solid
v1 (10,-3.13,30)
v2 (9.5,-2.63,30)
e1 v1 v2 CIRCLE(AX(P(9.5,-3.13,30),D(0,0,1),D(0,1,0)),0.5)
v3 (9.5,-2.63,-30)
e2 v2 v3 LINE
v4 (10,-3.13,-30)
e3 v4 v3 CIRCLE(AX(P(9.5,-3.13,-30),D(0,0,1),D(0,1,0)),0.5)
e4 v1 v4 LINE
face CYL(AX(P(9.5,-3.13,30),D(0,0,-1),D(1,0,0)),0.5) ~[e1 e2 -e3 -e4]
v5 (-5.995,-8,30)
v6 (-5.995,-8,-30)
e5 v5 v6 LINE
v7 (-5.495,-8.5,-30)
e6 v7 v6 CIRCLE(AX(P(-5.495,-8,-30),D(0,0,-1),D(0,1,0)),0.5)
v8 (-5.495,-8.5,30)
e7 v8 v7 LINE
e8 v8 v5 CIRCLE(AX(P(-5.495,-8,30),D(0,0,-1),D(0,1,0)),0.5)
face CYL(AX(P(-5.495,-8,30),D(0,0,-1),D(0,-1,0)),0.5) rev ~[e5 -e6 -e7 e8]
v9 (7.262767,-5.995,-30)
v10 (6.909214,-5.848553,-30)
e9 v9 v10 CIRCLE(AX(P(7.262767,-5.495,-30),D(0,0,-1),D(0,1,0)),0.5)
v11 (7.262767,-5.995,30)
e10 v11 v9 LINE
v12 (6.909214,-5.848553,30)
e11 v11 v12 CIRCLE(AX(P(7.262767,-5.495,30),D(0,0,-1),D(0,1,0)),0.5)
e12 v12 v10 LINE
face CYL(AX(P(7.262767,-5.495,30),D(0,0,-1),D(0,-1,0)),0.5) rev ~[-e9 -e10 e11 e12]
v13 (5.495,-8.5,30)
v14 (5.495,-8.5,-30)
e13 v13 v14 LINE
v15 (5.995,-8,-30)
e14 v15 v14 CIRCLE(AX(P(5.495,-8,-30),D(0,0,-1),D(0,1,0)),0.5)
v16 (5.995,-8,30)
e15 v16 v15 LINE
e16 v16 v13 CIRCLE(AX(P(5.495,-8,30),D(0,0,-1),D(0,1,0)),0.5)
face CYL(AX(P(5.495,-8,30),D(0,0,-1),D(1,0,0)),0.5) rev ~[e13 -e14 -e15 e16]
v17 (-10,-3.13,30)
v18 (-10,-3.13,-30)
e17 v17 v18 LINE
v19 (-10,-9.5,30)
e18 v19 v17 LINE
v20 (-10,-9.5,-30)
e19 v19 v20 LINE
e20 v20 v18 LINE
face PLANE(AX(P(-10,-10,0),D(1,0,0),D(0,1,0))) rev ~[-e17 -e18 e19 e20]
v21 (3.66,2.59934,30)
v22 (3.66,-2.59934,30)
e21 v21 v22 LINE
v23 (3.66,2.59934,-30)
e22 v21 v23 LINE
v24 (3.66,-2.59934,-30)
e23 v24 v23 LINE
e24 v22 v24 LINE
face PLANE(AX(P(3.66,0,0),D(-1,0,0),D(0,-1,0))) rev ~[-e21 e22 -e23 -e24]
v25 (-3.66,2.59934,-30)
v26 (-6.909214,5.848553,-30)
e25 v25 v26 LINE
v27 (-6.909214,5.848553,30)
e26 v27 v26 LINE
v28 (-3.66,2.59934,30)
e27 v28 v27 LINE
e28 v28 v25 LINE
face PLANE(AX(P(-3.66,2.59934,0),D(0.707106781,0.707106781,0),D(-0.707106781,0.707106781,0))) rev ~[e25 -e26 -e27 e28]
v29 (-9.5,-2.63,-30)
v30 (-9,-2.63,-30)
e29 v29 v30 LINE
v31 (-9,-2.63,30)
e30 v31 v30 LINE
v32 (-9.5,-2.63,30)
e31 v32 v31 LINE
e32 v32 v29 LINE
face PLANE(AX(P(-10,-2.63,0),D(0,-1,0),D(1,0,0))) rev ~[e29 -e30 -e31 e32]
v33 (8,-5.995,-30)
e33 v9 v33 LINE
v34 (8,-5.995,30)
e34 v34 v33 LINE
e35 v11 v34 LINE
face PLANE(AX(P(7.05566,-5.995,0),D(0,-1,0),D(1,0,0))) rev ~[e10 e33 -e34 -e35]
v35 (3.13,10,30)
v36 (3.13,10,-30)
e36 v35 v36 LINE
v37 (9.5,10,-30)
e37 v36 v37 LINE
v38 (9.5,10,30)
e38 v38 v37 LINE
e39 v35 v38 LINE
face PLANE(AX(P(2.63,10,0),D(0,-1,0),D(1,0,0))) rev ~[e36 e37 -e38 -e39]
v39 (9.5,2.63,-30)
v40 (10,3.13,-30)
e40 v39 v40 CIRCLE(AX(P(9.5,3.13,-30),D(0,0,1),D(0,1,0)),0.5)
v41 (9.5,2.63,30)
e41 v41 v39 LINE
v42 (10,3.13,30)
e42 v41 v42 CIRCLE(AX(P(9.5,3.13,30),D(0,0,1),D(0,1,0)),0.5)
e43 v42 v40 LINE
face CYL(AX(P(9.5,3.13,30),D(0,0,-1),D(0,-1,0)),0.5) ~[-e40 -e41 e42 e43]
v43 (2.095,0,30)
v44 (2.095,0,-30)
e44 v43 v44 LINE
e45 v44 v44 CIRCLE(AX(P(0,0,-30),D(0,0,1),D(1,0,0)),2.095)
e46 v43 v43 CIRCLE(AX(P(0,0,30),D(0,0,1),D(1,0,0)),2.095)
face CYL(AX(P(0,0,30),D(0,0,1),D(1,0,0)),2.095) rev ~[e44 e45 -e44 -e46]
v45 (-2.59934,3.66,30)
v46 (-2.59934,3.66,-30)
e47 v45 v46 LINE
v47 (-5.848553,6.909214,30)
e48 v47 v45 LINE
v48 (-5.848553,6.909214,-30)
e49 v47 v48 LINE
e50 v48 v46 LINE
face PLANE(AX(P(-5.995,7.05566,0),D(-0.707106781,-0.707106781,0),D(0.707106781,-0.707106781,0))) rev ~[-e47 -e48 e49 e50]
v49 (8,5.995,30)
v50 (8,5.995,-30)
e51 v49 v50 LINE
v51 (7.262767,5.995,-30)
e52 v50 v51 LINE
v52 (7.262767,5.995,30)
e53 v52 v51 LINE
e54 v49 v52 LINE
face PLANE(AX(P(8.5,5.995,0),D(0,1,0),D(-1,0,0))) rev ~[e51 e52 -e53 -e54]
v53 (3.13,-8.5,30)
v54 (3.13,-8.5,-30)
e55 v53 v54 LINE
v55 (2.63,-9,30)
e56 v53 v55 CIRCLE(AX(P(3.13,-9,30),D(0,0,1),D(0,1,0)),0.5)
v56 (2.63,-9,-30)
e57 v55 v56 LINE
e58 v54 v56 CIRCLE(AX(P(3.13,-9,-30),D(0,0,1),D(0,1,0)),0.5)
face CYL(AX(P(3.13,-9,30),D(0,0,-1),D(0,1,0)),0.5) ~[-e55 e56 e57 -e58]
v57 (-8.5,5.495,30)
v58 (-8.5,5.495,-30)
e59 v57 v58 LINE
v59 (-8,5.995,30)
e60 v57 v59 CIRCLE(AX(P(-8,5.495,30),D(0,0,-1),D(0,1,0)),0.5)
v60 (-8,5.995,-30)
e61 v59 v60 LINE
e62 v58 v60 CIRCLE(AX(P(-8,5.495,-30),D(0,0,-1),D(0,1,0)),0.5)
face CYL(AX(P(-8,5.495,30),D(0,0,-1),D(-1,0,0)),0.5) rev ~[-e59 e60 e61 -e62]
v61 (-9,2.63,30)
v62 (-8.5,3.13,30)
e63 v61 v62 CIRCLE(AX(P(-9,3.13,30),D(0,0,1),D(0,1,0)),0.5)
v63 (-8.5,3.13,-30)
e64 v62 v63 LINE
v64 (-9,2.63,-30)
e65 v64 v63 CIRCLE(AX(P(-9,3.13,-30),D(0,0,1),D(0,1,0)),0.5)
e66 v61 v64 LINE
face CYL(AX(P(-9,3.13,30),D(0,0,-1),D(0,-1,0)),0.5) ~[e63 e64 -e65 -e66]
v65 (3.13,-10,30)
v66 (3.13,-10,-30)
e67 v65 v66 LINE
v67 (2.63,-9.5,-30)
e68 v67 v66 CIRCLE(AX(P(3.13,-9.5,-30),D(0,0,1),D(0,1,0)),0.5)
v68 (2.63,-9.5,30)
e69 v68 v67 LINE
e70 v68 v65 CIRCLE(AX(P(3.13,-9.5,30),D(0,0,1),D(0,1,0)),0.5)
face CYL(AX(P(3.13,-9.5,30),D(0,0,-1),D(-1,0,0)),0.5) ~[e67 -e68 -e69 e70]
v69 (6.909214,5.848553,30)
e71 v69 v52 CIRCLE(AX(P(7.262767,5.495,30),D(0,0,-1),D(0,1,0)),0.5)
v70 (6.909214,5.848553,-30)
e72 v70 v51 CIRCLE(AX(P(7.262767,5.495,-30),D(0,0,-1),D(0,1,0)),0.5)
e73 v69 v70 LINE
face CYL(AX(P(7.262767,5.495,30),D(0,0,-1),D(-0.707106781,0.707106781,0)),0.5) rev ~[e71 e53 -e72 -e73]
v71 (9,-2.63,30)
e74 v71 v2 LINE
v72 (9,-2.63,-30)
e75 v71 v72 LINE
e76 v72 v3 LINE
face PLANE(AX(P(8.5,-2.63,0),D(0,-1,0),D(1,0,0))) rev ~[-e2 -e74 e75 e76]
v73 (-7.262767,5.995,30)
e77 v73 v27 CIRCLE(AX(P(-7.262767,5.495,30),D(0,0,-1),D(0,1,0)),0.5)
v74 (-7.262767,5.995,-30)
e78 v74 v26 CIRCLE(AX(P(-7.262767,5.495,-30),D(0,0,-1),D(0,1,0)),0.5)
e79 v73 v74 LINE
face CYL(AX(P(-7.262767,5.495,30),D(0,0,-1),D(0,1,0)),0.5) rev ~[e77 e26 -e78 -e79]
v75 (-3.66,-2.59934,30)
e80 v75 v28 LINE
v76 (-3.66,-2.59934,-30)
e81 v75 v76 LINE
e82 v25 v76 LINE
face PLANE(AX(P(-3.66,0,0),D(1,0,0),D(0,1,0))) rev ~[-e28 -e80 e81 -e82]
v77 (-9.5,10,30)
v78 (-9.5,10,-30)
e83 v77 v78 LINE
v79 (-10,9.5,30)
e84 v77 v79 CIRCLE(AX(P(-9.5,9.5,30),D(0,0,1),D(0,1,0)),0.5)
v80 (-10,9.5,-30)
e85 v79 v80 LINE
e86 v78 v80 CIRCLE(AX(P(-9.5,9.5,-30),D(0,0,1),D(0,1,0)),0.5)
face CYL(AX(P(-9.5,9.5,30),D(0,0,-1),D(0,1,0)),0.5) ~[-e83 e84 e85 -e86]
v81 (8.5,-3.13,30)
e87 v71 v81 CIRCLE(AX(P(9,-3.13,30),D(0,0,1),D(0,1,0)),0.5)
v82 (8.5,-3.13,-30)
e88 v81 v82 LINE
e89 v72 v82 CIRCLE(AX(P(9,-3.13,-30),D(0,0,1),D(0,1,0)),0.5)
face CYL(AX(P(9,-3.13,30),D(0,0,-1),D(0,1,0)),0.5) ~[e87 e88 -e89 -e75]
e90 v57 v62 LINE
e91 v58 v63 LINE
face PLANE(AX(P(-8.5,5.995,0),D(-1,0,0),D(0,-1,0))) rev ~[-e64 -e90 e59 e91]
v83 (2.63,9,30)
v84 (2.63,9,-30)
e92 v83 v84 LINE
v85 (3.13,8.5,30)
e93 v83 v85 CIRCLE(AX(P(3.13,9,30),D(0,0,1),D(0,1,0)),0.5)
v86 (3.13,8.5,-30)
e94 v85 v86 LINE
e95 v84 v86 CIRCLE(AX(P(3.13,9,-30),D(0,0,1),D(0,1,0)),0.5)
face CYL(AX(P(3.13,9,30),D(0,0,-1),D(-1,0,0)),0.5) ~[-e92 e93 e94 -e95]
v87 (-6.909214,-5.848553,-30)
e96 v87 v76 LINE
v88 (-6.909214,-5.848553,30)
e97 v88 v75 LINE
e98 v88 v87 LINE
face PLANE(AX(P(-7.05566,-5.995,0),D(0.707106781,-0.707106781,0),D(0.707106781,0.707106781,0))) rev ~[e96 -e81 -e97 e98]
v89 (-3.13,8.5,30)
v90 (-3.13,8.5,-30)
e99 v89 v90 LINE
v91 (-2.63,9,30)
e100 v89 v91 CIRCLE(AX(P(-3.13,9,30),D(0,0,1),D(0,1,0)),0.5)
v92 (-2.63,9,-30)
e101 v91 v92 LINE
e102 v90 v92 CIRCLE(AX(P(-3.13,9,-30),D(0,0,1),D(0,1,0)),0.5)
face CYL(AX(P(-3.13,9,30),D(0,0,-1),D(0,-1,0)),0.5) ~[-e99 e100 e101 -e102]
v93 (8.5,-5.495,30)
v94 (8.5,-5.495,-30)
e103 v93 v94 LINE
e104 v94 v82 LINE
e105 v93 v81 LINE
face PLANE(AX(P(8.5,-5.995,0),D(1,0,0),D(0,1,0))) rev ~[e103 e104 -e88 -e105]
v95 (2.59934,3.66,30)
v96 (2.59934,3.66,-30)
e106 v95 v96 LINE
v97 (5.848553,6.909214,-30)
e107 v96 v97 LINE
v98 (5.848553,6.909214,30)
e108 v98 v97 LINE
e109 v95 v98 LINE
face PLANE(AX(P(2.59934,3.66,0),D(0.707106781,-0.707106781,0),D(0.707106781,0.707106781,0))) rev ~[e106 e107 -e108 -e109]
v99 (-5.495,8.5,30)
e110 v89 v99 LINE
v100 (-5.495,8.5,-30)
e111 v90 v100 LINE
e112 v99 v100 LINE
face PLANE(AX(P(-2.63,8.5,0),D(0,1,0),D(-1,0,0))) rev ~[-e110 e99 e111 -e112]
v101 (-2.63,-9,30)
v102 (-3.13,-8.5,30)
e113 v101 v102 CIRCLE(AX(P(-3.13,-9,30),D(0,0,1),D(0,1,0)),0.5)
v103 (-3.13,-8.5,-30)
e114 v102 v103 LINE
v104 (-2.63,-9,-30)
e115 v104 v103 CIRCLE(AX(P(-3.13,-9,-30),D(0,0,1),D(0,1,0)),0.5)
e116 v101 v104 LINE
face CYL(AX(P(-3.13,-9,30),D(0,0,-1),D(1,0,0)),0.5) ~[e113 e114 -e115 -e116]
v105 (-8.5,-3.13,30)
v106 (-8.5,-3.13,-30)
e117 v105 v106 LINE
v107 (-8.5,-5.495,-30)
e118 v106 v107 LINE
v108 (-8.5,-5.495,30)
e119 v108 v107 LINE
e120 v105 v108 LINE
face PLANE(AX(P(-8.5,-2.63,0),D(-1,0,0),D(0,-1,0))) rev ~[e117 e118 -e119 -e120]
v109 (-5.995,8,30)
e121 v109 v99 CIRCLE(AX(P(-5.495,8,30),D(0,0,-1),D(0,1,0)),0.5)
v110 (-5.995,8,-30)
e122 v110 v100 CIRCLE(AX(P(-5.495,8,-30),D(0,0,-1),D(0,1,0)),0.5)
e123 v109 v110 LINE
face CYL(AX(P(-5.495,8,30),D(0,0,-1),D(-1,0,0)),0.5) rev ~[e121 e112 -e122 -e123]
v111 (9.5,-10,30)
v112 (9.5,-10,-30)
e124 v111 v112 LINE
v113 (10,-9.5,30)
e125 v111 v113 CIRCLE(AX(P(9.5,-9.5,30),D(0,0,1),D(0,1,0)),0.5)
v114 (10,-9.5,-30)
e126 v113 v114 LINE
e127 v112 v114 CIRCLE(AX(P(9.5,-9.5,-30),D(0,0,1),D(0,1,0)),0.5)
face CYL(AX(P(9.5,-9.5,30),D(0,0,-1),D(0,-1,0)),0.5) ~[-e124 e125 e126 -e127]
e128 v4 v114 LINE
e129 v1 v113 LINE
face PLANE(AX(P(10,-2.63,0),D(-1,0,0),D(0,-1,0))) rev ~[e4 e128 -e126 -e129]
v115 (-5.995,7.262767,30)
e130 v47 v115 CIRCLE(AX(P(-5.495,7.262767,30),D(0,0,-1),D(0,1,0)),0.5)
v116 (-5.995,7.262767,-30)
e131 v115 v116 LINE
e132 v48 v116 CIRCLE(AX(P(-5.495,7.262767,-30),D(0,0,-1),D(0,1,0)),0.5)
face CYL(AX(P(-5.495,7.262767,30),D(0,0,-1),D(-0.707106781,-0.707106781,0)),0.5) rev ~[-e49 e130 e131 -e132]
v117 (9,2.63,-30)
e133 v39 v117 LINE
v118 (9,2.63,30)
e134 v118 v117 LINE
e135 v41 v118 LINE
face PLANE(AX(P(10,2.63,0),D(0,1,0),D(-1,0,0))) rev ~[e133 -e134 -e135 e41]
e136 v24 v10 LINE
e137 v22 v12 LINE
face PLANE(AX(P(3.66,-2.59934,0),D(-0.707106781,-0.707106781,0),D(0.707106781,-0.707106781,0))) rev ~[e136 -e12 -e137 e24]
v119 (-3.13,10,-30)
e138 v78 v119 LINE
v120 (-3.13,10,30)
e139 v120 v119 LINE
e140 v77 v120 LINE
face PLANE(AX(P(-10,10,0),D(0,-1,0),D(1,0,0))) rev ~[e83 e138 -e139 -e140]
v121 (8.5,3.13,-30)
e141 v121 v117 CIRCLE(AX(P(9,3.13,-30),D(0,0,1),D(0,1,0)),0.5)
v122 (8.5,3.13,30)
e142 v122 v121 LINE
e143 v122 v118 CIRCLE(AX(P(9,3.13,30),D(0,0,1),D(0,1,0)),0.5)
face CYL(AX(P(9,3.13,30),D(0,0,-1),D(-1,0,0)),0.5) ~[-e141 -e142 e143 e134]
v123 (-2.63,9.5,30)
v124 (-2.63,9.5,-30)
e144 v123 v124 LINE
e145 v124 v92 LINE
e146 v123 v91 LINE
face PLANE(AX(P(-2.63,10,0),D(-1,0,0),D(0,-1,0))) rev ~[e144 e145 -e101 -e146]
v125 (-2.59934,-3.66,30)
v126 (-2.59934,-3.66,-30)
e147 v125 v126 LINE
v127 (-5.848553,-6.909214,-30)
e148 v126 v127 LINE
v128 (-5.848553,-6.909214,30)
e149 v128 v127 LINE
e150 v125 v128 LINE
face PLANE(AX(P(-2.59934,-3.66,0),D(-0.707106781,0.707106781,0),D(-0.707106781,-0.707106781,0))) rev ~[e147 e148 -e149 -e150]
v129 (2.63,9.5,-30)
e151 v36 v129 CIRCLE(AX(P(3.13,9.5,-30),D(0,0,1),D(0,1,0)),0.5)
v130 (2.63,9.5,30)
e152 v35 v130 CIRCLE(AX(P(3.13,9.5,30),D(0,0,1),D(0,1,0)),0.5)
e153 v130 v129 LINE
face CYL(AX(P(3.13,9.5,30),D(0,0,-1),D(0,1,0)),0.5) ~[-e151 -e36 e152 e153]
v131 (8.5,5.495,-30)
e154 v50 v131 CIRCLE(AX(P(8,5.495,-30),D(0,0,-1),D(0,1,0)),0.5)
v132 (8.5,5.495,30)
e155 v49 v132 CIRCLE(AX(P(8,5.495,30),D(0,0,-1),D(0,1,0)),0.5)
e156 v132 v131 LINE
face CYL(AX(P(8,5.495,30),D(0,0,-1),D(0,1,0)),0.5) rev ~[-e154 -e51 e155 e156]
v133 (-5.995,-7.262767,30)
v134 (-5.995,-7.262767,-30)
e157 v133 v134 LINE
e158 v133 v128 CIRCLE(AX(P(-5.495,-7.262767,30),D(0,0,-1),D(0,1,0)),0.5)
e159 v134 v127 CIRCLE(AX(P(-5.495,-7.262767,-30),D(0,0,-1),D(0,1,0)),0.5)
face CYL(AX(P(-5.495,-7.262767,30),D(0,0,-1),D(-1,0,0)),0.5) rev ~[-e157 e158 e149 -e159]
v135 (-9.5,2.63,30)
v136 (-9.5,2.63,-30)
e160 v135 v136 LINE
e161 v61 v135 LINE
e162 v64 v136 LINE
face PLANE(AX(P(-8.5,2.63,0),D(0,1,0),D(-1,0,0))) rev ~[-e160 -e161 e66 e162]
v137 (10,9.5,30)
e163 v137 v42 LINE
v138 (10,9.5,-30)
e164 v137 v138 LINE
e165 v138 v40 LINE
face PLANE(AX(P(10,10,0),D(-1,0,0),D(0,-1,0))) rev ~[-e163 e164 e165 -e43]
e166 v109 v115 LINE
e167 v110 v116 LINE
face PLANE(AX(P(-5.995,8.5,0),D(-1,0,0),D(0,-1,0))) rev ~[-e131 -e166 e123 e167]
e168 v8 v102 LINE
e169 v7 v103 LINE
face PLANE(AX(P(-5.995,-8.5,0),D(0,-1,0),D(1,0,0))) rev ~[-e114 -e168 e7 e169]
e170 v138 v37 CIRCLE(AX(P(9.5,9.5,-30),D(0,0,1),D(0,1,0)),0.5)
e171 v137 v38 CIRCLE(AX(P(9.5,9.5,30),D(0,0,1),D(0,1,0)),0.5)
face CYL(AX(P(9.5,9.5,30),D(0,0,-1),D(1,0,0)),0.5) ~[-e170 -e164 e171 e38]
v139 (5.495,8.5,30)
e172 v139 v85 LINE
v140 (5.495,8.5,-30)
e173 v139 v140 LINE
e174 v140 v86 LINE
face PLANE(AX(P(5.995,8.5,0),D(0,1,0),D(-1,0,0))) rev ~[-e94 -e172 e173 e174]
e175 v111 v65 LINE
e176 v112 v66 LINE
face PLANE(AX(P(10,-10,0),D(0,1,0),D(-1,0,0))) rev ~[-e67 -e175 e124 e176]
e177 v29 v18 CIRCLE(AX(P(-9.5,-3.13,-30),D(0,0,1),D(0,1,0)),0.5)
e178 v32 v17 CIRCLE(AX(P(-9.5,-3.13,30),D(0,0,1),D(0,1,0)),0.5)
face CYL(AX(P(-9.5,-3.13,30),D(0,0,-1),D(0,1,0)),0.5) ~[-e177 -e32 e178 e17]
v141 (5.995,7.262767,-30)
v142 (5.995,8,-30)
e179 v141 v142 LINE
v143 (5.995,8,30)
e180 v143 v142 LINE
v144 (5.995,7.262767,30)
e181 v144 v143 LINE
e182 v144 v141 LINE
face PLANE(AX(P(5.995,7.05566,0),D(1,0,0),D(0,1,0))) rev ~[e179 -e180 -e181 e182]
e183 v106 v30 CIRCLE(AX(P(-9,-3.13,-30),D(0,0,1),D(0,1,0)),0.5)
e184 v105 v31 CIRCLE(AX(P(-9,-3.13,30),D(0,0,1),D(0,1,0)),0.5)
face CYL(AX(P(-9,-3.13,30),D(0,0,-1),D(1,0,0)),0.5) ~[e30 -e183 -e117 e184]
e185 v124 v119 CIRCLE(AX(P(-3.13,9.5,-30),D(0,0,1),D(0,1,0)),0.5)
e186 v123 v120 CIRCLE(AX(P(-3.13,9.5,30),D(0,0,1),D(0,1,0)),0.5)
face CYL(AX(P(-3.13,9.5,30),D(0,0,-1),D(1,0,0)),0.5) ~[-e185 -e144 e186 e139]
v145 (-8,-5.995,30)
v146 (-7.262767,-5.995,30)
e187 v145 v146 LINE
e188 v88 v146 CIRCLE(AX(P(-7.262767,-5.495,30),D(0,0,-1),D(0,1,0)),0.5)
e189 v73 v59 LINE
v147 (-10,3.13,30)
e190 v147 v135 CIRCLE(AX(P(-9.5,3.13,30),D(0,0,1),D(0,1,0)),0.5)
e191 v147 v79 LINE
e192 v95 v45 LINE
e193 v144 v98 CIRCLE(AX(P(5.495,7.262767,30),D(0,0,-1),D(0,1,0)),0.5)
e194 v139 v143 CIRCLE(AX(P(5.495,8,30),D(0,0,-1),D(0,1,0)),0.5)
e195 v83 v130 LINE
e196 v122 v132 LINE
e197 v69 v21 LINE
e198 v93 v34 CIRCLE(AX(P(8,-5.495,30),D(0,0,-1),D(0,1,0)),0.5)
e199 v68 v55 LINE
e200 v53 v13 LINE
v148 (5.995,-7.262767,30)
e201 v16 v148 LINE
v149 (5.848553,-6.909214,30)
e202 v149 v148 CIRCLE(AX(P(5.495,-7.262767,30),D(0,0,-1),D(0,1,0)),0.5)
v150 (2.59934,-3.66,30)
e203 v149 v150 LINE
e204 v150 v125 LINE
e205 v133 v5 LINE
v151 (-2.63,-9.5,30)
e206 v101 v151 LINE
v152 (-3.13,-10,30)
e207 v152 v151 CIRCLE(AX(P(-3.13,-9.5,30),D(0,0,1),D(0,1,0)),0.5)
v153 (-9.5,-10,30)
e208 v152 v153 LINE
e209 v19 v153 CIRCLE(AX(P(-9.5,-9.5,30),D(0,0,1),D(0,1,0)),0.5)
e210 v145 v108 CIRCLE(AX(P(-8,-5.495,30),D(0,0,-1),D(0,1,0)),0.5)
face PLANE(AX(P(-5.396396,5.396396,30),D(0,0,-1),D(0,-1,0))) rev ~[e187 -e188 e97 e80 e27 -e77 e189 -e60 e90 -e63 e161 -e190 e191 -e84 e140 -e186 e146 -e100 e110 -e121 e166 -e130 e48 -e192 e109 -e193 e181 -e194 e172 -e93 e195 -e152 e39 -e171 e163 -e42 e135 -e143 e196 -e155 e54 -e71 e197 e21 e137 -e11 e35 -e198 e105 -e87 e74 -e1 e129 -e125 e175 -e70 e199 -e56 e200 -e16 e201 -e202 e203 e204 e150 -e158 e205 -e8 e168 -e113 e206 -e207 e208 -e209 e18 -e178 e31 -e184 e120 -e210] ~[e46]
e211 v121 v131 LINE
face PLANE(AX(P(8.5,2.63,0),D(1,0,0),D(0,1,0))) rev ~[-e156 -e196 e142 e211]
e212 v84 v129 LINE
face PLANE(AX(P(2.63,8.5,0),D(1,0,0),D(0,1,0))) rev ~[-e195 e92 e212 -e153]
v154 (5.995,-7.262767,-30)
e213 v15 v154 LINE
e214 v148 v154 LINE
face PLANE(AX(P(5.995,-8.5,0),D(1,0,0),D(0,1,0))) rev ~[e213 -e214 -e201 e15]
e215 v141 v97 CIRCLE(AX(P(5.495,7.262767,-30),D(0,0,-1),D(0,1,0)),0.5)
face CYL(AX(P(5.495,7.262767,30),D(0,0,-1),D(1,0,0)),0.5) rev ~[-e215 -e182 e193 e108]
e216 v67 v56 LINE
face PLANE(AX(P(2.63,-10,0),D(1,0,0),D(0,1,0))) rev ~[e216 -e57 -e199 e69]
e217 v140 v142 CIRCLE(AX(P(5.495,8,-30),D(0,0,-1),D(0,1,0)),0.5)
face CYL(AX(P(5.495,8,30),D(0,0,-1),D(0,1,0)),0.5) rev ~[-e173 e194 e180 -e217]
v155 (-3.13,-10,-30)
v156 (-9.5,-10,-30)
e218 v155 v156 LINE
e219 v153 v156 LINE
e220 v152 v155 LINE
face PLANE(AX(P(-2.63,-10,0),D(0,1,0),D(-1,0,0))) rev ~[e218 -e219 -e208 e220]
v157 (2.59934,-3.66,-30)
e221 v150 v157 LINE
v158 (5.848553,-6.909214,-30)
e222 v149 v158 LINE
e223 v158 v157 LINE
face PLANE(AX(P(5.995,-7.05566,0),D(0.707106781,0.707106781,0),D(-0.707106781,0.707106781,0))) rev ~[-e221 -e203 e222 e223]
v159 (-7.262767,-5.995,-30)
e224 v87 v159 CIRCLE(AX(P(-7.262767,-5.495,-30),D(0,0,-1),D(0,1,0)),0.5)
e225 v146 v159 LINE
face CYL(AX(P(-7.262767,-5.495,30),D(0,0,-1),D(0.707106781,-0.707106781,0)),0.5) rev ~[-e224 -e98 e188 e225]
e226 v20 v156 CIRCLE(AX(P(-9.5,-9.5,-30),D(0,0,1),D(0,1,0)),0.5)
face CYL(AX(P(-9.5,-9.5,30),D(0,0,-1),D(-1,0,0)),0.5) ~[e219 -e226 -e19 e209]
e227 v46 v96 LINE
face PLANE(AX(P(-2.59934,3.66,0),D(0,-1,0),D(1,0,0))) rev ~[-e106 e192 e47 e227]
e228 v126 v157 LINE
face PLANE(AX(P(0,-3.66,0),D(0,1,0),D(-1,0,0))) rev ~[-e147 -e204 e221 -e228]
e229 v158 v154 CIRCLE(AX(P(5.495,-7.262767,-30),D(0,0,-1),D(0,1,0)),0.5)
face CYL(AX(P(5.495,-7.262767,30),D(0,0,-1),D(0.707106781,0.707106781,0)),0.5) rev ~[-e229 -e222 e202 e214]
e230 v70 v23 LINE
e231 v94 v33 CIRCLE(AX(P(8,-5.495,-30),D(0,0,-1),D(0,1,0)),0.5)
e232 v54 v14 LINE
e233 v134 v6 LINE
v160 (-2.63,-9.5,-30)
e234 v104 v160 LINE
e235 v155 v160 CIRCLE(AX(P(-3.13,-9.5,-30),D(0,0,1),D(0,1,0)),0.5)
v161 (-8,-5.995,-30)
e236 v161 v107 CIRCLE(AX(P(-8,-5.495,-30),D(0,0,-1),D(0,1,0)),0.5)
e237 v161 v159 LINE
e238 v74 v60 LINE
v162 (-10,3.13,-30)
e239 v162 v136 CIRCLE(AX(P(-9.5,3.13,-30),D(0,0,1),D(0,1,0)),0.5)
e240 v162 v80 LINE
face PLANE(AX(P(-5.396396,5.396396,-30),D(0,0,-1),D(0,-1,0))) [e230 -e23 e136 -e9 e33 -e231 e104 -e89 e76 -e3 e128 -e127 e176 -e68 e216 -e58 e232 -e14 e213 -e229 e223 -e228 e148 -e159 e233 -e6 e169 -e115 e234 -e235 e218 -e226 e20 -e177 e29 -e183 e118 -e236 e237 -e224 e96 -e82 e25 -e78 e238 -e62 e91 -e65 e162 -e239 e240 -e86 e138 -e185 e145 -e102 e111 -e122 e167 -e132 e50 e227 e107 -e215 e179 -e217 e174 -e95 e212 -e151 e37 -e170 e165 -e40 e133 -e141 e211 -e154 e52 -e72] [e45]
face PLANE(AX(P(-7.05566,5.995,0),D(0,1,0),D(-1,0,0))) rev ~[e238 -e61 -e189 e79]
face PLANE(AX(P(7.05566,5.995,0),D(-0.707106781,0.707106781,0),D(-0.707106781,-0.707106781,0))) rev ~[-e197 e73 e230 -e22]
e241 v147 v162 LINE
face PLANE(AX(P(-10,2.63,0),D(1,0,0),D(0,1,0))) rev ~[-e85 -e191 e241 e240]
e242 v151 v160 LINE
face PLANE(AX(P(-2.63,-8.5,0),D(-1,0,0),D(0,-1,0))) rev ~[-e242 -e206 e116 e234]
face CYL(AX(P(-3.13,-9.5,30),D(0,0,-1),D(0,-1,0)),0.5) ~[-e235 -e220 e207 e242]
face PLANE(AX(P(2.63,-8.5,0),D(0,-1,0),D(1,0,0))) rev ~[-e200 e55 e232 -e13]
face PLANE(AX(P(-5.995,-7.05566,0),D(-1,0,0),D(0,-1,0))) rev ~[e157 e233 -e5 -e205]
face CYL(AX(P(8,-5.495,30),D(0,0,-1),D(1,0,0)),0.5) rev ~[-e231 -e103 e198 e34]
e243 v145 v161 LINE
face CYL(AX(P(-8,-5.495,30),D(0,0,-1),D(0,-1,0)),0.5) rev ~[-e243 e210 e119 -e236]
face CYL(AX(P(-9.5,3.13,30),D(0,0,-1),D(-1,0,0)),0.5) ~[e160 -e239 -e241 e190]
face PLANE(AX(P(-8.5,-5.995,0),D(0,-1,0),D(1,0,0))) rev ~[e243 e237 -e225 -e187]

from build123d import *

# Parameters (mm, degrees)
BOSS_EXTRUDE1_DEPTH      = 30
FILLET1_R                = 0.5
CIRPATTERN3_COUNT        = 4
FILLET1_OF_CIRPATTERN3_R = 0.5
SKETCH3_R                = 2.095
CUT_EXTRUDE1_DEPTH       = 62.64414003


with BuildPart() as part:
    # Sketch2 → Boss-Extrude1 (new, symmetric)
    with BuildSketch(Plane.XY):
        Polygon((0, 3.66), (2.599339828, 3.66), (5.995, 7.055660172), (5.995, 8.5), (2.63, 8.5), (2.63, 10), (10, 10), (10, 2.63), (8.5, 2.63), (8.5, 5.995), (7.055660172, 5.995), (3.66, 2.599339828), (3.66, 0), (0, 0), align=None)
    boss_extrude1 = extrude(amount=BOSS_EXTRUDE1_DEPTH, both=True)

    # Fillet1
    fillet1_edges = [part.edges().sort_by_distance(p)[0] for p in [
        (5.995, 7.055660172, 0),
        (5.995, 8.5, 0),
        (2.63, 8.5, 0),
        (2.63, 10, 0),
        (10, 10, 0),
        (10, 2.63, 0),
        (8.5, 2.63, 0),
        (8.5, 5.995, 0),
        (7.055660172, 5.995, 0),
    ]]
    fillet(fillet1_edges, radius=FILLET1_R)

    # CirPattern3: Boss-Extrude1 ×4 about axis
    cirpattern3_axis = Axis((0, 0, 30), (0, 0, -1))
    for i in range(1, CIRPATTERN3_COUNT):
        add(boss_extrude1.rotate(cirpattern3_axis, i * 360 / CIRPATTERN3_COUNT))

    # Fillet1 of CirPattern3
    fillet1_of_cirpattern3_edges = [part.edges().sort_by_distance(p)[0] for p in [
        (7.055660172, -5.995, 0),
        (8.5, -5.995, 0),
        (8.5, -2.63, 0),
        (10, -2.63, 0),
        (10, -10, 0),
        (2.63, -10, 0),
        (2.63, -8.5, 0),
        (5.995, -8.5, 0),
        (5.995, -7.055660172, 0),
        (-5.995, -7.055660172, 0),
        (-5.995, -8.5, 0),
        (-2.63, -8.5, 0),
        (-2.63, -10, 0),
        (-10, -10, 0),
        (-10, -2.63, 0),
        (-8.5, -2.63, 0),
        (-8.5, -5.995, 0),
        (-7.055660172, -5.995, 0),
        (-7.055660172, 5.995, 0),
        (-8.5, 5.995, 0),
        (-8.5, 2.63, 0),
        (-10, 2.63, 0),
        (-10, 10, 0),
        (-2.63, 10, 0),
        (-2.63, 8.5, 0),
        (-5.995, 8.5, 0),
        (-5.995, 7.055660172, 0),
    ]]
    fillet(fillet1_of_cirpattern3_edges, radius=FILLET1_OF_CIRPATTERN3_R)

    # Sketch3 → Cut-Extrude1 (cut, through all)
    with BuildSketch(Plane.XY.offset(30)):
        Circle(SKETCH3_R)
    extrude(amount=-CUT_EXTRUDE1_DEPTH, mode=Mode.SUBTRACT)


solid = part.part
